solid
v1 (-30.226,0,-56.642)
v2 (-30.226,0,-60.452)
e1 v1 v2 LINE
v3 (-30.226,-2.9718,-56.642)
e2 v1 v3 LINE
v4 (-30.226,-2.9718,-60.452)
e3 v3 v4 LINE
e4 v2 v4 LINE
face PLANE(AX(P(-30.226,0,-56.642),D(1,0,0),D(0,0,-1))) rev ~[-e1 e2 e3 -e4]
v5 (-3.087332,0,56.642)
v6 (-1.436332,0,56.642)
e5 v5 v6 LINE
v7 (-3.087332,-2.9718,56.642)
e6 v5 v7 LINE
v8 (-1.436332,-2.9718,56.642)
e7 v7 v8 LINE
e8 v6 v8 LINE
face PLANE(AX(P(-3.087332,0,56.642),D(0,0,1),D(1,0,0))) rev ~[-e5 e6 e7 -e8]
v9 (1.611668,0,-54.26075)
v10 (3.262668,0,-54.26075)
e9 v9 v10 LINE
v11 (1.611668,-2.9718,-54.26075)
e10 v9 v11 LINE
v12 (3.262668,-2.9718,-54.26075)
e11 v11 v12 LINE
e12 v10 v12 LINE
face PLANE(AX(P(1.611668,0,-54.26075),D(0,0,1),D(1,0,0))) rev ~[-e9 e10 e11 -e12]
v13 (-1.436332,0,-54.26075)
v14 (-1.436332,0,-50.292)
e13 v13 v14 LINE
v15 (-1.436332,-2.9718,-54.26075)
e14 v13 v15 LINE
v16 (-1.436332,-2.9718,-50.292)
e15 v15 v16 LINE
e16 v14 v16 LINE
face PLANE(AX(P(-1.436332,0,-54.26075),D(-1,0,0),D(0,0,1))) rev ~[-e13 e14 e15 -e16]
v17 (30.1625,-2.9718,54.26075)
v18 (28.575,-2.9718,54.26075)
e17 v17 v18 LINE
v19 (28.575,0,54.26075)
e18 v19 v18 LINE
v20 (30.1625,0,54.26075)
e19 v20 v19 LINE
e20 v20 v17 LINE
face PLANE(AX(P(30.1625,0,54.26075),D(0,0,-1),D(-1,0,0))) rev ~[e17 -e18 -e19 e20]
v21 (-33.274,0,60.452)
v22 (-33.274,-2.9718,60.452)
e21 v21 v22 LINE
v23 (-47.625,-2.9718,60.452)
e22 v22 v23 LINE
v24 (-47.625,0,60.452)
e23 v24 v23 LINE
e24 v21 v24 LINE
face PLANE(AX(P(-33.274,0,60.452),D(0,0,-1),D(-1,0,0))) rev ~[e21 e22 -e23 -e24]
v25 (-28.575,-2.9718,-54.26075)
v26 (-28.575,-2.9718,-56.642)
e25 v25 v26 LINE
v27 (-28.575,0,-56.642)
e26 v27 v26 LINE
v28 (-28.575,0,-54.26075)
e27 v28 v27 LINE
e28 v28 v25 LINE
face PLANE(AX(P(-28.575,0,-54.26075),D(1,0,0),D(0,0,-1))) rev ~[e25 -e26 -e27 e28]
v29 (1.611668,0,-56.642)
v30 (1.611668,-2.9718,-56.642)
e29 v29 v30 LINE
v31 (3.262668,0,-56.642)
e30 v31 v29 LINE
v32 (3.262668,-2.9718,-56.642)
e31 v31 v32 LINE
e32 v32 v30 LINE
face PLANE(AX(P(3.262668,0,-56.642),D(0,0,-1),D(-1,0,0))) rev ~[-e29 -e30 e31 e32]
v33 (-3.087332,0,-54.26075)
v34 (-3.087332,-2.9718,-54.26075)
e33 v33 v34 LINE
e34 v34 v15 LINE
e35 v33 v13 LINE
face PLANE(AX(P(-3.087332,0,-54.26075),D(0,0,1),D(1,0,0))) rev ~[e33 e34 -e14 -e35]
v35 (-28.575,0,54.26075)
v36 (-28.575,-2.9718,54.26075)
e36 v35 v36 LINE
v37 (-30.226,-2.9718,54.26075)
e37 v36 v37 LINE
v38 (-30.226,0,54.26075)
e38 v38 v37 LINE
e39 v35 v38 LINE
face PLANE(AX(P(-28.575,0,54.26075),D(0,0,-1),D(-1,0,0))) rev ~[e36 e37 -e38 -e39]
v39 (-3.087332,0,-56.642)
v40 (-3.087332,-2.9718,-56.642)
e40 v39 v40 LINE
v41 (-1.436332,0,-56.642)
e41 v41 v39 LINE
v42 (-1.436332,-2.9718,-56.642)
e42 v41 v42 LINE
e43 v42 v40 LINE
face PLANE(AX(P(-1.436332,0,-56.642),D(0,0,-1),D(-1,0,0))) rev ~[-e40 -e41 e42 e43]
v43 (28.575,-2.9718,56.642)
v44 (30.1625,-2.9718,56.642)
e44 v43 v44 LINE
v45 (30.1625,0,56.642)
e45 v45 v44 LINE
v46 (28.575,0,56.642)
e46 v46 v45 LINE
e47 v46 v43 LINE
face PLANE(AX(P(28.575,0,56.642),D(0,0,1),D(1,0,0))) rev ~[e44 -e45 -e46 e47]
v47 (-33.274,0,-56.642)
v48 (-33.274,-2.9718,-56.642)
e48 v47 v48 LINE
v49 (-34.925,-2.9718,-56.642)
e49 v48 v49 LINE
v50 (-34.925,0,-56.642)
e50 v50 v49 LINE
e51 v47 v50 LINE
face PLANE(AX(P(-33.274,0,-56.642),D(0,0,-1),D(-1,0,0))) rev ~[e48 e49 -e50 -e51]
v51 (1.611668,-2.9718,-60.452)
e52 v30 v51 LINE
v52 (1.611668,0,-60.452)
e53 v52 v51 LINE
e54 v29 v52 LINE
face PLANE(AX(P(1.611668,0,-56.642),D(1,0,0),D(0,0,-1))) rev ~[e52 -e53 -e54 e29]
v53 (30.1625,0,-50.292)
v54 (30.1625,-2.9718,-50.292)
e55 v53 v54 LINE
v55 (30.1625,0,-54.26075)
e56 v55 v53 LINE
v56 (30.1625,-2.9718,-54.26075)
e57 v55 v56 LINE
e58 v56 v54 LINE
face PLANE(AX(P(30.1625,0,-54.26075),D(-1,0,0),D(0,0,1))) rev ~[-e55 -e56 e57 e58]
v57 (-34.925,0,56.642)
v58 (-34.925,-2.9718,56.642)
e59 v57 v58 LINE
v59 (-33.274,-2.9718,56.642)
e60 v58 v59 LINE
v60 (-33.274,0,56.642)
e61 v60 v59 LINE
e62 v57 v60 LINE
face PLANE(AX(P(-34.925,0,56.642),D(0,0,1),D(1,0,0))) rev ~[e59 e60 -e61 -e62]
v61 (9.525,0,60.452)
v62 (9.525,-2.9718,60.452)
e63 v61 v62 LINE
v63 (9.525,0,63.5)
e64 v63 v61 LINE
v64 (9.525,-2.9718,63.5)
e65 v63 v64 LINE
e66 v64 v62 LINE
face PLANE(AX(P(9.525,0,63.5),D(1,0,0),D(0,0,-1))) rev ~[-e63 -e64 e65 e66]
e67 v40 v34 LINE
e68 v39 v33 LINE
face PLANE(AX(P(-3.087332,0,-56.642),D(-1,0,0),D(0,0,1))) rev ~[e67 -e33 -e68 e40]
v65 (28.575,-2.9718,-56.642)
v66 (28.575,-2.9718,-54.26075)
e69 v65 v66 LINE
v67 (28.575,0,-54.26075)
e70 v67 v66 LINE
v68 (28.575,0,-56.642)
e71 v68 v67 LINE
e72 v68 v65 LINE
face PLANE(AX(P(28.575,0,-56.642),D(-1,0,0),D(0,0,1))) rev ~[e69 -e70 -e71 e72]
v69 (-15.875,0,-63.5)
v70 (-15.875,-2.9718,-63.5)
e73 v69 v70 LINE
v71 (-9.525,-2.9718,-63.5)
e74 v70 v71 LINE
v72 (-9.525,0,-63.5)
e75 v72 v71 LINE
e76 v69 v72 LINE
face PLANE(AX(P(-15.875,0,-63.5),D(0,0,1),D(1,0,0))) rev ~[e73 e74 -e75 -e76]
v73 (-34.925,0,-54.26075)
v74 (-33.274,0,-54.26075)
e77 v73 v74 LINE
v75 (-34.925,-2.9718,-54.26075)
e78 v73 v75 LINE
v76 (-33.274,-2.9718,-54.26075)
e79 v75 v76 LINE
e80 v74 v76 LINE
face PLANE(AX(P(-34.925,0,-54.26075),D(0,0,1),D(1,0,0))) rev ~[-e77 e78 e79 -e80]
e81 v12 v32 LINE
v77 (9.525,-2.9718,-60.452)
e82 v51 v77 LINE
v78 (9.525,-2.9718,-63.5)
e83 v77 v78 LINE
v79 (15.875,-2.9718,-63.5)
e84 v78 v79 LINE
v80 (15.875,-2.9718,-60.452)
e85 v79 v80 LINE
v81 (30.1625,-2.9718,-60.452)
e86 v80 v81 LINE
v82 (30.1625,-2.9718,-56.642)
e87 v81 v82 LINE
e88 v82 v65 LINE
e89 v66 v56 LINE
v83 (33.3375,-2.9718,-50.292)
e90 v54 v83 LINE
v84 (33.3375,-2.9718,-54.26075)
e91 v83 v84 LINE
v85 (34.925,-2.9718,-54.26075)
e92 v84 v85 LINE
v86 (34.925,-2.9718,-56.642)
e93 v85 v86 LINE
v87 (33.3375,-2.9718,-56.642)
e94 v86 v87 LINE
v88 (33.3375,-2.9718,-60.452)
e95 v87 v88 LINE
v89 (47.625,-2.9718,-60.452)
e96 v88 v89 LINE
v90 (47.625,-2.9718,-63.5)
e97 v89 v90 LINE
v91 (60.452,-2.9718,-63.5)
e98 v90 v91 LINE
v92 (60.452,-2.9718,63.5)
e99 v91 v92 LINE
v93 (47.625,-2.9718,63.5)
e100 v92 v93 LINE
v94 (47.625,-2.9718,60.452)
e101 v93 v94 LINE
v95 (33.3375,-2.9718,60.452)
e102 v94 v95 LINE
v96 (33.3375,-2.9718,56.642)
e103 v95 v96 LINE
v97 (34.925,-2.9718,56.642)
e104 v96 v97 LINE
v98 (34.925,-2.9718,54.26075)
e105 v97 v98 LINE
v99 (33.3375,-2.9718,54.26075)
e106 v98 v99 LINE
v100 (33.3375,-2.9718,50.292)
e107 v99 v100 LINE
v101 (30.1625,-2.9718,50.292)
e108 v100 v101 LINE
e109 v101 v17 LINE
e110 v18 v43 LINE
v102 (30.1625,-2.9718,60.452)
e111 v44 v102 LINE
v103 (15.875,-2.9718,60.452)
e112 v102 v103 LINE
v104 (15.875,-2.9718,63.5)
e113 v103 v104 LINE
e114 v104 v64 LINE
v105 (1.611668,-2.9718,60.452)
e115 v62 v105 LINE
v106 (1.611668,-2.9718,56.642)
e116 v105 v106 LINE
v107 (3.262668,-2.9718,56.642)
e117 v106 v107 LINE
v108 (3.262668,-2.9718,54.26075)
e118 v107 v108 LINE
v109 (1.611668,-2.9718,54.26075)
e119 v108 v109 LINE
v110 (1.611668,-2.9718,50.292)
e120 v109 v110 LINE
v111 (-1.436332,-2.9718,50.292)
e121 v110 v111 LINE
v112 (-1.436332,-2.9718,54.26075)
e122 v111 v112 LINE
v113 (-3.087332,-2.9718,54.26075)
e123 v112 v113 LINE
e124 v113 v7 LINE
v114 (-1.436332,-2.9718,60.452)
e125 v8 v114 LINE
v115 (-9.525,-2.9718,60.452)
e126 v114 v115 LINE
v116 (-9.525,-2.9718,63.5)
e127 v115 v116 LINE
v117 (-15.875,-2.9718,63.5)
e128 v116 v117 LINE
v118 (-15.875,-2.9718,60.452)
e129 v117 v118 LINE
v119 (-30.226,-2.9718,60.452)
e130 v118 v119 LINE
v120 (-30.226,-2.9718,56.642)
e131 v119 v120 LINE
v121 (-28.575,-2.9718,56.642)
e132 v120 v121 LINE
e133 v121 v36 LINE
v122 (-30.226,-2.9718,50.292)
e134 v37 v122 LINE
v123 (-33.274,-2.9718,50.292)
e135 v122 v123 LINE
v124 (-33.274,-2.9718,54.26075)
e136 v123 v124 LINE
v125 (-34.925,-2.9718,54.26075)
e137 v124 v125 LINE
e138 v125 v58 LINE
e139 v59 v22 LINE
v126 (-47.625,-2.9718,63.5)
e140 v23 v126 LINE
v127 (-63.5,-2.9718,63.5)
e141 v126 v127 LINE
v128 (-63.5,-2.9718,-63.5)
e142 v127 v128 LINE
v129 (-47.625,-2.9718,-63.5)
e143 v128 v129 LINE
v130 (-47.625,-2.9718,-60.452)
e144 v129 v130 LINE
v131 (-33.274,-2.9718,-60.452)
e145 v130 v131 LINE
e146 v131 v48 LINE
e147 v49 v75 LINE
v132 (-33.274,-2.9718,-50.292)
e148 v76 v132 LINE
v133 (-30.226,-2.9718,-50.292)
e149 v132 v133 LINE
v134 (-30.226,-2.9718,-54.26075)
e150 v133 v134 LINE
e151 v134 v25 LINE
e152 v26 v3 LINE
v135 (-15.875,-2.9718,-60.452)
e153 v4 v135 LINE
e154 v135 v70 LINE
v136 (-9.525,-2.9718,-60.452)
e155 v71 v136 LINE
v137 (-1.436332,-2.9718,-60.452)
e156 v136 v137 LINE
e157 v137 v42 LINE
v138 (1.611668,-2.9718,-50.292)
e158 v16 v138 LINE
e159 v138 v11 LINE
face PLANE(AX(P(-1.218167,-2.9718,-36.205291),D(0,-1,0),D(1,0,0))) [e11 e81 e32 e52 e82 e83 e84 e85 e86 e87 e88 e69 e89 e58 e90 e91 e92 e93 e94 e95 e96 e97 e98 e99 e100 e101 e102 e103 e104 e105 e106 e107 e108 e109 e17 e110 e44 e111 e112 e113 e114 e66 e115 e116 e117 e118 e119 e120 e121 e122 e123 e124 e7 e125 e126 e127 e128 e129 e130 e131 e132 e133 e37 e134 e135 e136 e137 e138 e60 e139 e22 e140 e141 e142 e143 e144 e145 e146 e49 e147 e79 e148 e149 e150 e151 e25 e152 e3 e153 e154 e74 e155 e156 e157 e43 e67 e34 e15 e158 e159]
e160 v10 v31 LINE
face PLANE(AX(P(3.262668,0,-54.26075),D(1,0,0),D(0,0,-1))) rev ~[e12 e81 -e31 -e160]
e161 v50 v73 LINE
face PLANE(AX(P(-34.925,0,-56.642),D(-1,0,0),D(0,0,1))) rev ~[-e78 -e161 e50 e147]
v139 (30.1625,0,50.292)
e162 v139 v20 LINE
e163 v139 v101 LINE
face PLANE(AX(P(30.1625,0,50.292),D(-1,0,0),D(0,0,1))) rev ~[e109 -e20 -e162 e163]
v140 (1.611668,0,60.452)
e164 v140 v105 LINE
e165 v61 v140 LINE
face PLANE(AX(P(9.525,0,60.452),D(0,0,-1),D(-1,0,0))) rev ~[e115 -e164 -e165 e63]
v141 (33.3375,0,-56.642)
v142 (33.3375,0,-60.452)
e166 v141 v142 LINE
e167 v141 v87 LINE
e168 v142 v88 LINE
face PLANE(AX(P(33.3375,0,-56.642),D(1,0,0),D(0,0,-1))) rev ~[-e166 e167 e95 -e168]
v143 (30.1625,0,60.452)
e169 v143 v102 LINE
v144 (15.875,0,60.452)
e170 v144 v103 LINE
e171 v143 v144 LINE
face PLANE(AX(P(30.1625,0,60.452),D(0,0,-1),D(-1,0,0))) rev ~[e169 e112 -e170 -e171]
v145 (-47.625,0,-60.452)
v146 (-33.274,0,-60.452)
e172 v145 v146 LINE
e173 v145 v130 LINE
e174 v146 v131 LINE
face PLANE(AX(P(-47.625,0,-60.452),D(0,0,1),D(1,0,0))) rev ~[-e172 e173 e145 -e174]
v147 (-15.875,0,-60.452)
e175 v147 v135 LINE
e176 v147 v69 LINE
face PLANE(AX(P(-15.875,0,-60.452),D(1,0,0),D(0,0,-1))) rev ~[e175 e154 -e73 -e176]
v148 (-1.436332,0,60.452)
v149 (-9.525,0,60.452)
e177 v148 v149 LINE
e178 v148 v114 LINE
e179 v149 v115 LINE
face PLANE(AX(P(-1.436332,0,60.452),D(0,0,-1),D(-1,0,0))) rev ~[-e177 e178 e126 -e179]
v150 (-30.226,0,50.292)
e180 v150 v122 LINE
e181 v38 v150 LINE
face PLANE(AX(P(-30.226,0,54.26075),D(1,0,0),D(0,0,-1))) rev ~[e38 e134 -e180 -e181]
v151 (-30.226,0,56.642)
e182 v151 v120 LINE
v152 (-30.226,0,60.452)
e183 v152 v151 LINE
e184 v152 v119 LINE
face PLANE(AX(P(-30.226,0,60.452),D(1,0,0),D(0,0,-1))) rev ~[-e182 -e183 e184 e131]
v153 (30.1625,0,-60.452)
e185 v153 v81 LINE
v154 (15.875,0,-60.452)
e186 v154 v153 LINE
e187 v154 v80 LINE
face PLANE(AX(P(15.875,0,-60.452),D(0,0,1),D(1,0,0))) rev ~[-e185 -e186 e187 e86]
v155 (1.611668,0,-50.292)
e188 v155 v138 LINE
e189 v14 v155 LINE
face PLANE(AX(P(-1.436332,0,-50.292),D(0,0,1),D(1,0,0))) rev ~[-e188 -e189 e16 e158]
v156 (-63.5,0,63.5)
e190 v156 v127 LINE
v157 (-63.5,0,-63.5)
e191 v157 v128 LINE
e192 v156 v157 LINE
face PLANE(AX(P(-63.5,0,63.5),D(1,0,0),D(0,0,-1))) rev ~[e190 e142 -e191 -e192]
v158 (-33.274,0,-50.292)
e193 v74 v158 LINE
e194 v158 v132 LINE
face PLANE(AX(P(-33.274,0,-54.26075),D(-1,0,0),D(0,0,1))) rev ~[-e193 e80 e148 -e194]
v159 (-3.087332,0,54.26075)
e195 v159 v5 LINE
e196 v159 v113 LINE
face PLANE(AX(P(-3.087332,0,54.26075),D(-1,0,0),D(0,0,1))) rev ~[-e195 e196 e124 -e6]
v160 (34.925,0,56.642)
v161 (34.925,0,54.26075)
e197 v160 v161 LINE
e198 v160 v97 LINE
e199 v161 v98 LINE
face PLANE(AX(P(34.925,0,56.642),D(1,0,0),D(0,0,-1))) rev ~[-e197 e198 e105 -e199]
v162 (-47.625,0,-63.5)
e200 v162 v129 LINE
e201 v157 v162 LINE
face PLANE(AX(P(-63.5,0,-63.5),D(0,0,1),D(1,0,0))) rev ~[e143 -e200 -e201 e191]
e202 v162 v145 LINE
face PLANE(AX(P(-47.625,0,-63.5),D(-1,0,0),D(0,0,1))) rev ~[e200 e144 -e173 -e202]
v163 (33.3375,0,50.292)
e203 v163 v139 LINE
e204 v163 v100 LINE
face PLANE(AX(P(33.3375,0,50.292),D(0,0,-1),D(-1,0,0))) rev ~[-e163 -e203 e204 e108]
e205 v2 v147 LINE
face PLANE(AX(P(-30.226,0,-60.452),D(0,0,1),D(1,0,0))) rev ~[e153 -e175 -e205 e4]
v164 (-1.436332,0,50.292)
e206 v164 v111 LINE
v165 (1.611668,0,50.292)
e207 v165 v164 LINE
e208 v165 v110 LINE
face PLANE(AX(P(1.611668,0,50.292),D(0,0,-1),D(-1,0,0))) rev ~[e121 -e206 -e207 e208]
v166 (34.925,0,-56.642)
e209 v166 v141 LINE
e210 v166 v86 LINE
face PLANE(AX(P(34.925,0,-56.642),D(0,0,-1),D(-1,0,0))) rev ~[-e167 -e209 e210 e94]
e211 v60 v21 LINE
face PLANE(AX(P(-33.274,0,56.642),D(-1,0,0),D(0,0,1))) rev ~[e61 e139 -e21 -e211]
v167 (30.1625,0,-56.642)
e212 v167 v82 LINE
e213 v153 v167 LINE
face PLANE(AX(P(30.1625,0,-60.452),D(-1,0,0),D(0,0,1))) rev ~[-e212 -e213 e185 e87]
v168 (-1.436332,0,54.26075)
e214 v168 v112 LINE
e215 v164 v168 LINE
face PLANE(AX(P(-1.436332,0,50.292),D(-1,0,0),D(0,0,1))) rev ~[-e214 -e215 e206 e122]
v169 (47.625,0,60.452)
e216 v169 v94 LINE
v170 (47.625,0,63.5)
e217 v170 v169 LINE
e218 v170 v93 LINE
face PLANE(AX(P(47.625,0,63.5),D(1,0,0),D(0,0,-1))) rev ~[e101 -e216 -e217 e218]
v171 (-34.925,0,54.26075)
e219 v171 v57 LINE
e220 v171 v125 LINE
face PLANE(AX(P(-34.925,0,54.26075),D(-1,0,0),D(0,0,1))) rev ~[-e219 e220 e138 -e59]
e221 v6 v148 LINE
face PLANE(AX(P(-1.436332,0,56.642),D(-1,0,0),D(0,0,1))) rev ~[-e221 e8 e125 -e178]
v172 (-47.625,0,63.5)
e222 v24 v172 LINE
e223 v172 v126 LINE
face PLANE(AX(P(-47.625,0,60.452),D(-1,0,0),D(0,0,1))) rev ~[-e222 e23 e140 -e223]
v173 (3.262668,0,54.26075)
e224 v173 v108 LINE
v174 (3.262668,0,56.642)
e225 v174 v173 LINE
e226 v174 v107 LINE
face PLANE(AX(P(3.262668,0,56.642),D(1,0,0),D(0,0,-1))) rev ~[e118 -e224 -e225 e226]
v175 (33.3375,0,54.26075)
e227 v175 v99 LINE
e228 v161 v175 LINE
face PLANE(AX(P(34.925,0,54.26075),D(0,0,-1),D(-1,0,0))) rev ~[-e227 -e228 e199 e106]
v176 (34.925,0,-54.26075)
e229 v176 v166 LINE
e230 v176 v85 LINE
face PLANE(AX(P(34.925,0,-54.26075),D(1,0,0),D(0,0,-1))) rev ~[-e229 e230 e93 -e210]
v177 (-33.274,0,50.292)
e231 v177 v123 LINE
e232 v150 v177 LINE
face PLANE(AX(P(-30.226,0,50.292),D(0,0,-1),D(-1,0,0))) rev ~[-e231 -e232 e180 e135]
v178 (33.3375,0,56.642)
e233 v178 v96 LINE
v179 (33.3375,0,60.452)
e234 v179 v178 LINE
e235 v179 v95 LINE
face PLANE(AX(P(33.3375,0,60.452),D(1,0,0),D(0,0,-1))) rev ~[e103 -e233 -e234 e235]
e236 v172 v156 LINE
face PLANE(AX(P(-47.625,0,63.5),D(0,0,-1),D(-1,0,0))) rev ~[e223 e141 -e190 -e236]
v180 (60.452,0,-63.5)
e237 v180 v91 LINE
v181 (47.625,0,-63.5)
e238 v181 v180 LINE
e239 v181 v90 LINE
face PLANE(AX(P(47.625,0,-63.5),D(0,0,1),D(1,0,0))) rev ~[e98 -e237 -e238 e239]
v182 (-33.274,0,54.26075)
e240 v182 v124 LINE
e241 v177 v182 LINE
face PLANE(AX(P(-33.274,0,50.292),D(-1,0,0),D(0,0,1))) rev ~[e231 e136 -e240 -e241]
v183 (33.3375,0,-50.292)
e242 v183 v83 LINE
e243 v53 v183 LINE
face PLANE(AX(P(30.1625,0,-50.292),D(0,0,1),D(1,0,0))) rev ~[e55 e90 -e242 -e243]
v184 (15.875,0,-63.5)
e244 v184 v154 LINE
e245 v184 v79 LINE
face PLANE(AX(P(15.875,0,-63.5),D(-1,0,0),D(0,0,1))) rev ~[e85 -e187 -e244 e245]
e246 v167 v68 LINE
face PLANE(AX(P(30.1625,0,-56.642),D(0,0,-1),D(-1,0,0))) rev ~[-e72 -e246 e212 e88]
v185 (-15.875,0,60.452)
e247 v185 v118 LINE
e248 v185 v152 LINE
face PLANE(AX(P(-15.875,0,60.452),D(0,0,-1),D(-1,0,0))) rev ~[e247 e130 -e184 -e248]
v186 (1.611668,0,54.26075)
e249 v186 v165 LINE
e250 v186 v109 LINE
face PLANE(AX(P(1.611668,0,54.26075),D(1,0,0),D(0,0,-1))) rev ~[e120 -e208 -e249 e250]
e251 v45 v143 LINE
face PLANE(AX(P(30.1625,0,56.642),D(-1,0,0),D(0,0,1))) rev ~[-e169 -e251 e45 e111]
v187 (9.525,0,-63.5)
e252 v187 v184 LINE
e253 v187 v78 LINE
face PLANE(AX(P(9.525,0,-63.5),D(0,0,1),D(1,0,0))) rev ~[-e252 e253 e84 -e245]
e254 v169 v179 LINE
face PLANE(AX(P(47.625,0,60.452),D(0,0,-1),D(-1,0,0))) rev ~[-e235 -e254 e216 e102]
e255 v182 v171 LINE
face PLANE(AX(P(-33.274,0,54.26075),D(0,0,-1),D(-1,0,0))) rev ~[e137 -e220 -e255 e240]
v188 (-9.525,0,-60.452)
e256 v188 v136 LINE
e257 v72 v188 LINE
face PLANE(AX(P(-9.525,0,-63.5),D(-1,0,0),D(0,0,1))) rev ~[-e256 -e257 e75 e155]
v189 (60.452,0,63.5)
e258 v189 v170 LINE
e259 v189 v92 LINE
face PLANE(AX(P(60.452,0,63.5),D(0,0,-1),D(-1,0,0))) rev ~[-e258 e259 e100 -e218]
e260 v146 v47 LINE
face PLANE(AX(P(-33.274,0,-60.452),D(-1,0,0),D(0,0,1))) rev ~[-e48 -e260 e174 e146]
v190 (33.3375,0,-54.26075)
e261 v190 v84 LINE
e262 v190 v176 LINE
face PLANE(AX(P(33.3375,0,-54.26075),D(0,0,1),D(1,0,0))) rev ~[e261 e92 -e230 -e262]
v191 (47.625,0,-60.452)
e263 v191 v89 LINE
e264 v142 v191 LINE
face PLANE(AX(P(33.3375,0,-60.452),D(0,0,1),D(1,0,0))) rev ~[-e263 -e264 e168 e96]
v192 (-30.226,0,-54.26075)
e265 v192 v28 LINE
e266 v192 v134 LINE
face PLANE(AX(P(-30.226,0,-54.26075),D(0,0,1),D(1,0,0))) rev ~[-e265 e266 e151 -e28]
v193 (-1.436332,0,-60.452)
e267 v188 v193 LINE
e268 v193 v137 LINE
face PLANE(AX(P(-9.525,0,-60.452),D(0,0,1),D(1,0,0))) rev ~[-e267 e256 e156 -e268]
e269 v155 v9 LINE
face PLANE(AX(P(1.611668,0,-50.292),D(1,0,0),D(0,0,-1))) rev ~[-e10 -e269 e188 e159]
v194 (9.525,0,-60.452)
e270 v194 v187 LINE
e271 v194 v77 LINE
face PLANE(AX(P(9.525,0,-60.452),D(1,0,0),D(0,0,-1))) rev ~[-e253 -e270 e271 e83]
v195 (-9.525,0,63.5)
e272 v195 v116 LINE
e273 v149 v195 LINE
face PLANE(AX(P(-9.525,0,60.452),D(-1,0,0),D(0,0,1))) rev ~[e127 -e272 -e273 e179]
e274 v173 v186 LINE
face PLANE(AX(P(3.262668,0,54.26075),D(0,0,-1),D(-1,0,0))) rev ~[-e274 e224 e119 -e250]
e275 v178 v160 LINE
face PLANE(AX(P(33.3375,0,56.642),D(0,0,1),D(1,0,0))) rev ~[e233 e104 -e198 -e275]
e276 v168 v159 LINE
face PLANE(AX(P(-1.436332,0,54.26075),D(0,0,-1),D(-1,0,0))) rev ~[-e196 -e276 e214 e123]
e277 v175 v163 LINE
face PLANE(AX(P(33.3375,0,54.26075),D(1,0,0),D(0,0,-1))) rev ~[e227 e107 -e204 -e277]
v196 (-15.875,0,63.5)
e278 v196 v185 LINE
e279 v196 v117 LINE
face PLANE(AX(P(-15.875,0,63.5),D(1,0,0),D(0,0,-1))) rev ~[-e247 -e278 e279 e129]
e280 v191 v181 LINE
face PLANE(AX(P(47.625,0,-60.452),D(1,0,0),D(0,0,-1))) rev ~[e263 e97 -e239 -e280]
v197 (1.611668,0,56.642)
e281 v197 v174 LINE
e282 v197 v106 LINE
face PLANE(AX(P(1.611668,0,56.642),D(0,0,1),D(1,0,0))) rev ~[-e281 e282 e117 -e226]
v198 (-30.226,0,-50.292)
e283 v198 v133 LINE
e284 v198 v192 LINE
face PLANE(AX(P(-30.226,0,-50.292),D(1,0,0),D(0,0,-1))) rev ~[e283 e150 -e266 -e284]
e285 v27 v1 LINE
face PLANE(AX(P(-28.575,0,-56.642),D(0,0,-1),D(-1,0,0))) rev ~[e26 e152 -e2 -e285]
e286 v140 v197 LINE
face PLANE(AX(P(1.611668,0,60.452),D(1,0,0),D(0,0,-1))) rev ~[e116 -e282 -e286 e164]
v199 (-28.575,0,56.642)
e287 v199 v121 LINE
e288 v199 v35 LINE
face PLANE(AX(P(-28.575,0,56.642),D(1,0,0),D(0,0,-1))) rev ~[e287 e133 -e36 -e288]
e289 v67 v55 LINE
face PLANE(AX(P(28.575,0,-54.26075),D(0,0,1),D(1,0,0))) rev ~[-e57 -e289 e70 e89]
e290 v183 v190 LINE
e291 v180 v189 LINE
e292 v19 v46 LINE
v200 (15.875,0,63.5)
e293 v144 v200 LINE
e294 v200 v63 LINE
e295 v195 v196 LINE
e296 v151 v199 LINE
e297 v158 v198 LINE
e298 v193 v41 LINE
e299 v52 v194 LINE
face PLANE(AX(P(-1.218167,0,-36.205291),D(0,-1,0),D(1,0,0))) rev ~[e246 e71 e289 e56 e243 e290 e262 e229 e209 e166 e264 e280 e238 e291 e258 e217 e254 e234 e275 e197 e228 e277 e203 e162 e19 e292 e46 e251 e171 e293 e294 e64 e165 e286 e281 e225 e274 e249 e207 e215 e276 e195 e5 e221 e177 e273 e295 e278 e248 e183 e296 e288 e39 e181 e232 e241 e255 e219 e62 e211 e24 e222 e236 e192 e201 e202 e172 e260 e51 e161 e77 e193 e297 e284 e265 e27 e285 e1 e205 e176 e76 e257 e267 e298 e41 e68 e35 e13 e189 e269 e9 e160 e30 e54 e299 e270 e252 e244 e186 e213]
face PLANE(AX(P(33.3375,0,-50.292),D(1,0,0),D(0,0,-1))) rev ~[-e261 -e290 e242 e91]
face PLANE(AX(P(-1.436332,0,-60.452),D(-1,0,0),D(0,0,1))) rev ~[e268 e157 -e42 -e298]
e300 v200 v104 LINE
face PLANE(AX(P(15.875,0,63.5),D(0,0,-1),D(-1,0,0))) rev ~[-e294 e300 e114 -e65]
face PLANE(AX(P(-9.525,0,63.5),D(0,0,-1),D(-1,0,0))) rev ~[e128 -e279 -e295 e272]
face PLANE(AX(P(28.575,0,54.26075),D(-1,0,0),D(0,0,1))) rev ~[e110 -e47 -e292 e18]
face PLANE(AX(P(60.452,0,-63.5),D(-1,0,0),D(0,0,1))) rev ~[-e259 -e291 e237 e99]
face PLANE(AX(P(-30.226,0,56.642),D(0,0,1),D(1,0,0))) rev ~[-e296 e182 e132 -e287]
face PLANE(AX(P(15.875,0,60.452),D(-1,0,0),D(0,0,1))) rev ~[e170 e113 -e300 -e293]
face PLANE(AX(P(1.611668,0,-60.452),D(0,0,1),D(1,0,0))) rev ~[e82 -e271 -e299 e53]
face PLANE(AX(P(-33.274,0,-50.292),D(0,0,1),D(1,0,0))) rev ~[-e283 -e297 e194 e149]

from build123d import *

# Parameters (mm, degrees)
F1_DEPTH = 2.9718


with BuildPart() as f1:
    # F0 (on Front) → F1 (new body)
    with BuildSketch(Plane.XZ):
        Polygon((-63.5, -60.452), (-63.5, -63.5), (-47.625, -63.5), (-47.625, -60.452), (-33.274, -60.452), (-33.274, -56.642), (-34.925, -56.642), (-34.925, -54.26075), (-33.274, -54.26075), (-33.274, -50.292), (-31.75, -50.292), (-30.226, -50.292), (-30.226, -54.26075), (-28.575, -54.26075), (-28.575, -56.642), (-30.226, -56.642), (-30.226, -60.452), (-15.875, -60.452), (-15.875, -63.5), (-9.525, -63.5), (-9.525, -60.452), (-1.436332, -60.452), (-1.436332, -56.642), (-3.087332, -56.642), (-3.087332, -54.26075), (-1.436332, -54.26075), (-1.436332, -50.292), (0.087668, -50.292), (1.611668, -50.292), (1.611668, -54.26075), (3.262668, -54.26075), (3.262668, -56.642), (1.611668, -56.642), (1.611668, -60.452), (9.525, -60.452), (9.525, -63.5), (15.875, -63.5), (15.875, -60.452), (30.1625, -60.452), (30.1625, -56.642), (28.575, -56.642), (28.575, -54.26075), (30.1625, -54.26075), (30.1625, -50.292), (31.75, -50.292), (33.3375, -50.292), (33.3375, -54.26075), (34.925, -54.26075), (34.925, -56.642), (33.3375, -56.642), (33.3375, -60.452), (47.625, -60.452), (47.625, -63.5), (60.452, -63.5), (60.452, 0), (-63.5, 0), align=None)
        Polygon((-63.5, 60.452), (-63.5, 0), (60.452, 0), (60.452, 63.5), (47.625, 63.5), (47.625, 60.452), (33.3375, 60.452), (33.3375, 56.642), (34.925, 56.642), (34.925, 54.26075), (33.3375, 54.26075), (33.3375, 50.292), (31.75, 50.292), (30.1625, 50.292), (30.1625, 54.26075), (28.575, 54.26075), (28.575, 56.642), (30.1625, 56.642), (30.1625, 60.452), (15.875, 60.452), (15.875, 63.5), (9.525, 63.5), (9.525, 60.452), (1.611668, 60.452), (1.611668, 56.642), (3.262668, 56.642), (3.262668, 54.26075), (1.611668, 54.26075), (1.611668, 50.292), (0.087668, 50.292), (-1.436332, 50.292), (-1.436332, 54.26075), (-3.087332, 54.26075), (-3.087332, 56.642), (-1.436332, 56.642), (-1.436332, 60.452), (-9.525, 60.452), (-9.525, 63.5), (-15.875, 63.5), (-15.875, 60.452), (-30.226, 60.452), (-30.226, 56.642), (-28.575, 56.642), (-28.575, 54.26075), (-30.226, 54.26075), (-30.226, 50.292), (-31.75, 50.292), (-33.274, 50.292), (-33.274, 54.26075), (-34.925, 54.26075), (-34.925, 56.642), (-33.274, 56.642), (-33.274, 60.452), (-47.625, 60.452), (-47.625, 63.5), (-63.5, 63.5), align=None)
    extrude(amount=F1_DEPTH)


solid = f1.part
